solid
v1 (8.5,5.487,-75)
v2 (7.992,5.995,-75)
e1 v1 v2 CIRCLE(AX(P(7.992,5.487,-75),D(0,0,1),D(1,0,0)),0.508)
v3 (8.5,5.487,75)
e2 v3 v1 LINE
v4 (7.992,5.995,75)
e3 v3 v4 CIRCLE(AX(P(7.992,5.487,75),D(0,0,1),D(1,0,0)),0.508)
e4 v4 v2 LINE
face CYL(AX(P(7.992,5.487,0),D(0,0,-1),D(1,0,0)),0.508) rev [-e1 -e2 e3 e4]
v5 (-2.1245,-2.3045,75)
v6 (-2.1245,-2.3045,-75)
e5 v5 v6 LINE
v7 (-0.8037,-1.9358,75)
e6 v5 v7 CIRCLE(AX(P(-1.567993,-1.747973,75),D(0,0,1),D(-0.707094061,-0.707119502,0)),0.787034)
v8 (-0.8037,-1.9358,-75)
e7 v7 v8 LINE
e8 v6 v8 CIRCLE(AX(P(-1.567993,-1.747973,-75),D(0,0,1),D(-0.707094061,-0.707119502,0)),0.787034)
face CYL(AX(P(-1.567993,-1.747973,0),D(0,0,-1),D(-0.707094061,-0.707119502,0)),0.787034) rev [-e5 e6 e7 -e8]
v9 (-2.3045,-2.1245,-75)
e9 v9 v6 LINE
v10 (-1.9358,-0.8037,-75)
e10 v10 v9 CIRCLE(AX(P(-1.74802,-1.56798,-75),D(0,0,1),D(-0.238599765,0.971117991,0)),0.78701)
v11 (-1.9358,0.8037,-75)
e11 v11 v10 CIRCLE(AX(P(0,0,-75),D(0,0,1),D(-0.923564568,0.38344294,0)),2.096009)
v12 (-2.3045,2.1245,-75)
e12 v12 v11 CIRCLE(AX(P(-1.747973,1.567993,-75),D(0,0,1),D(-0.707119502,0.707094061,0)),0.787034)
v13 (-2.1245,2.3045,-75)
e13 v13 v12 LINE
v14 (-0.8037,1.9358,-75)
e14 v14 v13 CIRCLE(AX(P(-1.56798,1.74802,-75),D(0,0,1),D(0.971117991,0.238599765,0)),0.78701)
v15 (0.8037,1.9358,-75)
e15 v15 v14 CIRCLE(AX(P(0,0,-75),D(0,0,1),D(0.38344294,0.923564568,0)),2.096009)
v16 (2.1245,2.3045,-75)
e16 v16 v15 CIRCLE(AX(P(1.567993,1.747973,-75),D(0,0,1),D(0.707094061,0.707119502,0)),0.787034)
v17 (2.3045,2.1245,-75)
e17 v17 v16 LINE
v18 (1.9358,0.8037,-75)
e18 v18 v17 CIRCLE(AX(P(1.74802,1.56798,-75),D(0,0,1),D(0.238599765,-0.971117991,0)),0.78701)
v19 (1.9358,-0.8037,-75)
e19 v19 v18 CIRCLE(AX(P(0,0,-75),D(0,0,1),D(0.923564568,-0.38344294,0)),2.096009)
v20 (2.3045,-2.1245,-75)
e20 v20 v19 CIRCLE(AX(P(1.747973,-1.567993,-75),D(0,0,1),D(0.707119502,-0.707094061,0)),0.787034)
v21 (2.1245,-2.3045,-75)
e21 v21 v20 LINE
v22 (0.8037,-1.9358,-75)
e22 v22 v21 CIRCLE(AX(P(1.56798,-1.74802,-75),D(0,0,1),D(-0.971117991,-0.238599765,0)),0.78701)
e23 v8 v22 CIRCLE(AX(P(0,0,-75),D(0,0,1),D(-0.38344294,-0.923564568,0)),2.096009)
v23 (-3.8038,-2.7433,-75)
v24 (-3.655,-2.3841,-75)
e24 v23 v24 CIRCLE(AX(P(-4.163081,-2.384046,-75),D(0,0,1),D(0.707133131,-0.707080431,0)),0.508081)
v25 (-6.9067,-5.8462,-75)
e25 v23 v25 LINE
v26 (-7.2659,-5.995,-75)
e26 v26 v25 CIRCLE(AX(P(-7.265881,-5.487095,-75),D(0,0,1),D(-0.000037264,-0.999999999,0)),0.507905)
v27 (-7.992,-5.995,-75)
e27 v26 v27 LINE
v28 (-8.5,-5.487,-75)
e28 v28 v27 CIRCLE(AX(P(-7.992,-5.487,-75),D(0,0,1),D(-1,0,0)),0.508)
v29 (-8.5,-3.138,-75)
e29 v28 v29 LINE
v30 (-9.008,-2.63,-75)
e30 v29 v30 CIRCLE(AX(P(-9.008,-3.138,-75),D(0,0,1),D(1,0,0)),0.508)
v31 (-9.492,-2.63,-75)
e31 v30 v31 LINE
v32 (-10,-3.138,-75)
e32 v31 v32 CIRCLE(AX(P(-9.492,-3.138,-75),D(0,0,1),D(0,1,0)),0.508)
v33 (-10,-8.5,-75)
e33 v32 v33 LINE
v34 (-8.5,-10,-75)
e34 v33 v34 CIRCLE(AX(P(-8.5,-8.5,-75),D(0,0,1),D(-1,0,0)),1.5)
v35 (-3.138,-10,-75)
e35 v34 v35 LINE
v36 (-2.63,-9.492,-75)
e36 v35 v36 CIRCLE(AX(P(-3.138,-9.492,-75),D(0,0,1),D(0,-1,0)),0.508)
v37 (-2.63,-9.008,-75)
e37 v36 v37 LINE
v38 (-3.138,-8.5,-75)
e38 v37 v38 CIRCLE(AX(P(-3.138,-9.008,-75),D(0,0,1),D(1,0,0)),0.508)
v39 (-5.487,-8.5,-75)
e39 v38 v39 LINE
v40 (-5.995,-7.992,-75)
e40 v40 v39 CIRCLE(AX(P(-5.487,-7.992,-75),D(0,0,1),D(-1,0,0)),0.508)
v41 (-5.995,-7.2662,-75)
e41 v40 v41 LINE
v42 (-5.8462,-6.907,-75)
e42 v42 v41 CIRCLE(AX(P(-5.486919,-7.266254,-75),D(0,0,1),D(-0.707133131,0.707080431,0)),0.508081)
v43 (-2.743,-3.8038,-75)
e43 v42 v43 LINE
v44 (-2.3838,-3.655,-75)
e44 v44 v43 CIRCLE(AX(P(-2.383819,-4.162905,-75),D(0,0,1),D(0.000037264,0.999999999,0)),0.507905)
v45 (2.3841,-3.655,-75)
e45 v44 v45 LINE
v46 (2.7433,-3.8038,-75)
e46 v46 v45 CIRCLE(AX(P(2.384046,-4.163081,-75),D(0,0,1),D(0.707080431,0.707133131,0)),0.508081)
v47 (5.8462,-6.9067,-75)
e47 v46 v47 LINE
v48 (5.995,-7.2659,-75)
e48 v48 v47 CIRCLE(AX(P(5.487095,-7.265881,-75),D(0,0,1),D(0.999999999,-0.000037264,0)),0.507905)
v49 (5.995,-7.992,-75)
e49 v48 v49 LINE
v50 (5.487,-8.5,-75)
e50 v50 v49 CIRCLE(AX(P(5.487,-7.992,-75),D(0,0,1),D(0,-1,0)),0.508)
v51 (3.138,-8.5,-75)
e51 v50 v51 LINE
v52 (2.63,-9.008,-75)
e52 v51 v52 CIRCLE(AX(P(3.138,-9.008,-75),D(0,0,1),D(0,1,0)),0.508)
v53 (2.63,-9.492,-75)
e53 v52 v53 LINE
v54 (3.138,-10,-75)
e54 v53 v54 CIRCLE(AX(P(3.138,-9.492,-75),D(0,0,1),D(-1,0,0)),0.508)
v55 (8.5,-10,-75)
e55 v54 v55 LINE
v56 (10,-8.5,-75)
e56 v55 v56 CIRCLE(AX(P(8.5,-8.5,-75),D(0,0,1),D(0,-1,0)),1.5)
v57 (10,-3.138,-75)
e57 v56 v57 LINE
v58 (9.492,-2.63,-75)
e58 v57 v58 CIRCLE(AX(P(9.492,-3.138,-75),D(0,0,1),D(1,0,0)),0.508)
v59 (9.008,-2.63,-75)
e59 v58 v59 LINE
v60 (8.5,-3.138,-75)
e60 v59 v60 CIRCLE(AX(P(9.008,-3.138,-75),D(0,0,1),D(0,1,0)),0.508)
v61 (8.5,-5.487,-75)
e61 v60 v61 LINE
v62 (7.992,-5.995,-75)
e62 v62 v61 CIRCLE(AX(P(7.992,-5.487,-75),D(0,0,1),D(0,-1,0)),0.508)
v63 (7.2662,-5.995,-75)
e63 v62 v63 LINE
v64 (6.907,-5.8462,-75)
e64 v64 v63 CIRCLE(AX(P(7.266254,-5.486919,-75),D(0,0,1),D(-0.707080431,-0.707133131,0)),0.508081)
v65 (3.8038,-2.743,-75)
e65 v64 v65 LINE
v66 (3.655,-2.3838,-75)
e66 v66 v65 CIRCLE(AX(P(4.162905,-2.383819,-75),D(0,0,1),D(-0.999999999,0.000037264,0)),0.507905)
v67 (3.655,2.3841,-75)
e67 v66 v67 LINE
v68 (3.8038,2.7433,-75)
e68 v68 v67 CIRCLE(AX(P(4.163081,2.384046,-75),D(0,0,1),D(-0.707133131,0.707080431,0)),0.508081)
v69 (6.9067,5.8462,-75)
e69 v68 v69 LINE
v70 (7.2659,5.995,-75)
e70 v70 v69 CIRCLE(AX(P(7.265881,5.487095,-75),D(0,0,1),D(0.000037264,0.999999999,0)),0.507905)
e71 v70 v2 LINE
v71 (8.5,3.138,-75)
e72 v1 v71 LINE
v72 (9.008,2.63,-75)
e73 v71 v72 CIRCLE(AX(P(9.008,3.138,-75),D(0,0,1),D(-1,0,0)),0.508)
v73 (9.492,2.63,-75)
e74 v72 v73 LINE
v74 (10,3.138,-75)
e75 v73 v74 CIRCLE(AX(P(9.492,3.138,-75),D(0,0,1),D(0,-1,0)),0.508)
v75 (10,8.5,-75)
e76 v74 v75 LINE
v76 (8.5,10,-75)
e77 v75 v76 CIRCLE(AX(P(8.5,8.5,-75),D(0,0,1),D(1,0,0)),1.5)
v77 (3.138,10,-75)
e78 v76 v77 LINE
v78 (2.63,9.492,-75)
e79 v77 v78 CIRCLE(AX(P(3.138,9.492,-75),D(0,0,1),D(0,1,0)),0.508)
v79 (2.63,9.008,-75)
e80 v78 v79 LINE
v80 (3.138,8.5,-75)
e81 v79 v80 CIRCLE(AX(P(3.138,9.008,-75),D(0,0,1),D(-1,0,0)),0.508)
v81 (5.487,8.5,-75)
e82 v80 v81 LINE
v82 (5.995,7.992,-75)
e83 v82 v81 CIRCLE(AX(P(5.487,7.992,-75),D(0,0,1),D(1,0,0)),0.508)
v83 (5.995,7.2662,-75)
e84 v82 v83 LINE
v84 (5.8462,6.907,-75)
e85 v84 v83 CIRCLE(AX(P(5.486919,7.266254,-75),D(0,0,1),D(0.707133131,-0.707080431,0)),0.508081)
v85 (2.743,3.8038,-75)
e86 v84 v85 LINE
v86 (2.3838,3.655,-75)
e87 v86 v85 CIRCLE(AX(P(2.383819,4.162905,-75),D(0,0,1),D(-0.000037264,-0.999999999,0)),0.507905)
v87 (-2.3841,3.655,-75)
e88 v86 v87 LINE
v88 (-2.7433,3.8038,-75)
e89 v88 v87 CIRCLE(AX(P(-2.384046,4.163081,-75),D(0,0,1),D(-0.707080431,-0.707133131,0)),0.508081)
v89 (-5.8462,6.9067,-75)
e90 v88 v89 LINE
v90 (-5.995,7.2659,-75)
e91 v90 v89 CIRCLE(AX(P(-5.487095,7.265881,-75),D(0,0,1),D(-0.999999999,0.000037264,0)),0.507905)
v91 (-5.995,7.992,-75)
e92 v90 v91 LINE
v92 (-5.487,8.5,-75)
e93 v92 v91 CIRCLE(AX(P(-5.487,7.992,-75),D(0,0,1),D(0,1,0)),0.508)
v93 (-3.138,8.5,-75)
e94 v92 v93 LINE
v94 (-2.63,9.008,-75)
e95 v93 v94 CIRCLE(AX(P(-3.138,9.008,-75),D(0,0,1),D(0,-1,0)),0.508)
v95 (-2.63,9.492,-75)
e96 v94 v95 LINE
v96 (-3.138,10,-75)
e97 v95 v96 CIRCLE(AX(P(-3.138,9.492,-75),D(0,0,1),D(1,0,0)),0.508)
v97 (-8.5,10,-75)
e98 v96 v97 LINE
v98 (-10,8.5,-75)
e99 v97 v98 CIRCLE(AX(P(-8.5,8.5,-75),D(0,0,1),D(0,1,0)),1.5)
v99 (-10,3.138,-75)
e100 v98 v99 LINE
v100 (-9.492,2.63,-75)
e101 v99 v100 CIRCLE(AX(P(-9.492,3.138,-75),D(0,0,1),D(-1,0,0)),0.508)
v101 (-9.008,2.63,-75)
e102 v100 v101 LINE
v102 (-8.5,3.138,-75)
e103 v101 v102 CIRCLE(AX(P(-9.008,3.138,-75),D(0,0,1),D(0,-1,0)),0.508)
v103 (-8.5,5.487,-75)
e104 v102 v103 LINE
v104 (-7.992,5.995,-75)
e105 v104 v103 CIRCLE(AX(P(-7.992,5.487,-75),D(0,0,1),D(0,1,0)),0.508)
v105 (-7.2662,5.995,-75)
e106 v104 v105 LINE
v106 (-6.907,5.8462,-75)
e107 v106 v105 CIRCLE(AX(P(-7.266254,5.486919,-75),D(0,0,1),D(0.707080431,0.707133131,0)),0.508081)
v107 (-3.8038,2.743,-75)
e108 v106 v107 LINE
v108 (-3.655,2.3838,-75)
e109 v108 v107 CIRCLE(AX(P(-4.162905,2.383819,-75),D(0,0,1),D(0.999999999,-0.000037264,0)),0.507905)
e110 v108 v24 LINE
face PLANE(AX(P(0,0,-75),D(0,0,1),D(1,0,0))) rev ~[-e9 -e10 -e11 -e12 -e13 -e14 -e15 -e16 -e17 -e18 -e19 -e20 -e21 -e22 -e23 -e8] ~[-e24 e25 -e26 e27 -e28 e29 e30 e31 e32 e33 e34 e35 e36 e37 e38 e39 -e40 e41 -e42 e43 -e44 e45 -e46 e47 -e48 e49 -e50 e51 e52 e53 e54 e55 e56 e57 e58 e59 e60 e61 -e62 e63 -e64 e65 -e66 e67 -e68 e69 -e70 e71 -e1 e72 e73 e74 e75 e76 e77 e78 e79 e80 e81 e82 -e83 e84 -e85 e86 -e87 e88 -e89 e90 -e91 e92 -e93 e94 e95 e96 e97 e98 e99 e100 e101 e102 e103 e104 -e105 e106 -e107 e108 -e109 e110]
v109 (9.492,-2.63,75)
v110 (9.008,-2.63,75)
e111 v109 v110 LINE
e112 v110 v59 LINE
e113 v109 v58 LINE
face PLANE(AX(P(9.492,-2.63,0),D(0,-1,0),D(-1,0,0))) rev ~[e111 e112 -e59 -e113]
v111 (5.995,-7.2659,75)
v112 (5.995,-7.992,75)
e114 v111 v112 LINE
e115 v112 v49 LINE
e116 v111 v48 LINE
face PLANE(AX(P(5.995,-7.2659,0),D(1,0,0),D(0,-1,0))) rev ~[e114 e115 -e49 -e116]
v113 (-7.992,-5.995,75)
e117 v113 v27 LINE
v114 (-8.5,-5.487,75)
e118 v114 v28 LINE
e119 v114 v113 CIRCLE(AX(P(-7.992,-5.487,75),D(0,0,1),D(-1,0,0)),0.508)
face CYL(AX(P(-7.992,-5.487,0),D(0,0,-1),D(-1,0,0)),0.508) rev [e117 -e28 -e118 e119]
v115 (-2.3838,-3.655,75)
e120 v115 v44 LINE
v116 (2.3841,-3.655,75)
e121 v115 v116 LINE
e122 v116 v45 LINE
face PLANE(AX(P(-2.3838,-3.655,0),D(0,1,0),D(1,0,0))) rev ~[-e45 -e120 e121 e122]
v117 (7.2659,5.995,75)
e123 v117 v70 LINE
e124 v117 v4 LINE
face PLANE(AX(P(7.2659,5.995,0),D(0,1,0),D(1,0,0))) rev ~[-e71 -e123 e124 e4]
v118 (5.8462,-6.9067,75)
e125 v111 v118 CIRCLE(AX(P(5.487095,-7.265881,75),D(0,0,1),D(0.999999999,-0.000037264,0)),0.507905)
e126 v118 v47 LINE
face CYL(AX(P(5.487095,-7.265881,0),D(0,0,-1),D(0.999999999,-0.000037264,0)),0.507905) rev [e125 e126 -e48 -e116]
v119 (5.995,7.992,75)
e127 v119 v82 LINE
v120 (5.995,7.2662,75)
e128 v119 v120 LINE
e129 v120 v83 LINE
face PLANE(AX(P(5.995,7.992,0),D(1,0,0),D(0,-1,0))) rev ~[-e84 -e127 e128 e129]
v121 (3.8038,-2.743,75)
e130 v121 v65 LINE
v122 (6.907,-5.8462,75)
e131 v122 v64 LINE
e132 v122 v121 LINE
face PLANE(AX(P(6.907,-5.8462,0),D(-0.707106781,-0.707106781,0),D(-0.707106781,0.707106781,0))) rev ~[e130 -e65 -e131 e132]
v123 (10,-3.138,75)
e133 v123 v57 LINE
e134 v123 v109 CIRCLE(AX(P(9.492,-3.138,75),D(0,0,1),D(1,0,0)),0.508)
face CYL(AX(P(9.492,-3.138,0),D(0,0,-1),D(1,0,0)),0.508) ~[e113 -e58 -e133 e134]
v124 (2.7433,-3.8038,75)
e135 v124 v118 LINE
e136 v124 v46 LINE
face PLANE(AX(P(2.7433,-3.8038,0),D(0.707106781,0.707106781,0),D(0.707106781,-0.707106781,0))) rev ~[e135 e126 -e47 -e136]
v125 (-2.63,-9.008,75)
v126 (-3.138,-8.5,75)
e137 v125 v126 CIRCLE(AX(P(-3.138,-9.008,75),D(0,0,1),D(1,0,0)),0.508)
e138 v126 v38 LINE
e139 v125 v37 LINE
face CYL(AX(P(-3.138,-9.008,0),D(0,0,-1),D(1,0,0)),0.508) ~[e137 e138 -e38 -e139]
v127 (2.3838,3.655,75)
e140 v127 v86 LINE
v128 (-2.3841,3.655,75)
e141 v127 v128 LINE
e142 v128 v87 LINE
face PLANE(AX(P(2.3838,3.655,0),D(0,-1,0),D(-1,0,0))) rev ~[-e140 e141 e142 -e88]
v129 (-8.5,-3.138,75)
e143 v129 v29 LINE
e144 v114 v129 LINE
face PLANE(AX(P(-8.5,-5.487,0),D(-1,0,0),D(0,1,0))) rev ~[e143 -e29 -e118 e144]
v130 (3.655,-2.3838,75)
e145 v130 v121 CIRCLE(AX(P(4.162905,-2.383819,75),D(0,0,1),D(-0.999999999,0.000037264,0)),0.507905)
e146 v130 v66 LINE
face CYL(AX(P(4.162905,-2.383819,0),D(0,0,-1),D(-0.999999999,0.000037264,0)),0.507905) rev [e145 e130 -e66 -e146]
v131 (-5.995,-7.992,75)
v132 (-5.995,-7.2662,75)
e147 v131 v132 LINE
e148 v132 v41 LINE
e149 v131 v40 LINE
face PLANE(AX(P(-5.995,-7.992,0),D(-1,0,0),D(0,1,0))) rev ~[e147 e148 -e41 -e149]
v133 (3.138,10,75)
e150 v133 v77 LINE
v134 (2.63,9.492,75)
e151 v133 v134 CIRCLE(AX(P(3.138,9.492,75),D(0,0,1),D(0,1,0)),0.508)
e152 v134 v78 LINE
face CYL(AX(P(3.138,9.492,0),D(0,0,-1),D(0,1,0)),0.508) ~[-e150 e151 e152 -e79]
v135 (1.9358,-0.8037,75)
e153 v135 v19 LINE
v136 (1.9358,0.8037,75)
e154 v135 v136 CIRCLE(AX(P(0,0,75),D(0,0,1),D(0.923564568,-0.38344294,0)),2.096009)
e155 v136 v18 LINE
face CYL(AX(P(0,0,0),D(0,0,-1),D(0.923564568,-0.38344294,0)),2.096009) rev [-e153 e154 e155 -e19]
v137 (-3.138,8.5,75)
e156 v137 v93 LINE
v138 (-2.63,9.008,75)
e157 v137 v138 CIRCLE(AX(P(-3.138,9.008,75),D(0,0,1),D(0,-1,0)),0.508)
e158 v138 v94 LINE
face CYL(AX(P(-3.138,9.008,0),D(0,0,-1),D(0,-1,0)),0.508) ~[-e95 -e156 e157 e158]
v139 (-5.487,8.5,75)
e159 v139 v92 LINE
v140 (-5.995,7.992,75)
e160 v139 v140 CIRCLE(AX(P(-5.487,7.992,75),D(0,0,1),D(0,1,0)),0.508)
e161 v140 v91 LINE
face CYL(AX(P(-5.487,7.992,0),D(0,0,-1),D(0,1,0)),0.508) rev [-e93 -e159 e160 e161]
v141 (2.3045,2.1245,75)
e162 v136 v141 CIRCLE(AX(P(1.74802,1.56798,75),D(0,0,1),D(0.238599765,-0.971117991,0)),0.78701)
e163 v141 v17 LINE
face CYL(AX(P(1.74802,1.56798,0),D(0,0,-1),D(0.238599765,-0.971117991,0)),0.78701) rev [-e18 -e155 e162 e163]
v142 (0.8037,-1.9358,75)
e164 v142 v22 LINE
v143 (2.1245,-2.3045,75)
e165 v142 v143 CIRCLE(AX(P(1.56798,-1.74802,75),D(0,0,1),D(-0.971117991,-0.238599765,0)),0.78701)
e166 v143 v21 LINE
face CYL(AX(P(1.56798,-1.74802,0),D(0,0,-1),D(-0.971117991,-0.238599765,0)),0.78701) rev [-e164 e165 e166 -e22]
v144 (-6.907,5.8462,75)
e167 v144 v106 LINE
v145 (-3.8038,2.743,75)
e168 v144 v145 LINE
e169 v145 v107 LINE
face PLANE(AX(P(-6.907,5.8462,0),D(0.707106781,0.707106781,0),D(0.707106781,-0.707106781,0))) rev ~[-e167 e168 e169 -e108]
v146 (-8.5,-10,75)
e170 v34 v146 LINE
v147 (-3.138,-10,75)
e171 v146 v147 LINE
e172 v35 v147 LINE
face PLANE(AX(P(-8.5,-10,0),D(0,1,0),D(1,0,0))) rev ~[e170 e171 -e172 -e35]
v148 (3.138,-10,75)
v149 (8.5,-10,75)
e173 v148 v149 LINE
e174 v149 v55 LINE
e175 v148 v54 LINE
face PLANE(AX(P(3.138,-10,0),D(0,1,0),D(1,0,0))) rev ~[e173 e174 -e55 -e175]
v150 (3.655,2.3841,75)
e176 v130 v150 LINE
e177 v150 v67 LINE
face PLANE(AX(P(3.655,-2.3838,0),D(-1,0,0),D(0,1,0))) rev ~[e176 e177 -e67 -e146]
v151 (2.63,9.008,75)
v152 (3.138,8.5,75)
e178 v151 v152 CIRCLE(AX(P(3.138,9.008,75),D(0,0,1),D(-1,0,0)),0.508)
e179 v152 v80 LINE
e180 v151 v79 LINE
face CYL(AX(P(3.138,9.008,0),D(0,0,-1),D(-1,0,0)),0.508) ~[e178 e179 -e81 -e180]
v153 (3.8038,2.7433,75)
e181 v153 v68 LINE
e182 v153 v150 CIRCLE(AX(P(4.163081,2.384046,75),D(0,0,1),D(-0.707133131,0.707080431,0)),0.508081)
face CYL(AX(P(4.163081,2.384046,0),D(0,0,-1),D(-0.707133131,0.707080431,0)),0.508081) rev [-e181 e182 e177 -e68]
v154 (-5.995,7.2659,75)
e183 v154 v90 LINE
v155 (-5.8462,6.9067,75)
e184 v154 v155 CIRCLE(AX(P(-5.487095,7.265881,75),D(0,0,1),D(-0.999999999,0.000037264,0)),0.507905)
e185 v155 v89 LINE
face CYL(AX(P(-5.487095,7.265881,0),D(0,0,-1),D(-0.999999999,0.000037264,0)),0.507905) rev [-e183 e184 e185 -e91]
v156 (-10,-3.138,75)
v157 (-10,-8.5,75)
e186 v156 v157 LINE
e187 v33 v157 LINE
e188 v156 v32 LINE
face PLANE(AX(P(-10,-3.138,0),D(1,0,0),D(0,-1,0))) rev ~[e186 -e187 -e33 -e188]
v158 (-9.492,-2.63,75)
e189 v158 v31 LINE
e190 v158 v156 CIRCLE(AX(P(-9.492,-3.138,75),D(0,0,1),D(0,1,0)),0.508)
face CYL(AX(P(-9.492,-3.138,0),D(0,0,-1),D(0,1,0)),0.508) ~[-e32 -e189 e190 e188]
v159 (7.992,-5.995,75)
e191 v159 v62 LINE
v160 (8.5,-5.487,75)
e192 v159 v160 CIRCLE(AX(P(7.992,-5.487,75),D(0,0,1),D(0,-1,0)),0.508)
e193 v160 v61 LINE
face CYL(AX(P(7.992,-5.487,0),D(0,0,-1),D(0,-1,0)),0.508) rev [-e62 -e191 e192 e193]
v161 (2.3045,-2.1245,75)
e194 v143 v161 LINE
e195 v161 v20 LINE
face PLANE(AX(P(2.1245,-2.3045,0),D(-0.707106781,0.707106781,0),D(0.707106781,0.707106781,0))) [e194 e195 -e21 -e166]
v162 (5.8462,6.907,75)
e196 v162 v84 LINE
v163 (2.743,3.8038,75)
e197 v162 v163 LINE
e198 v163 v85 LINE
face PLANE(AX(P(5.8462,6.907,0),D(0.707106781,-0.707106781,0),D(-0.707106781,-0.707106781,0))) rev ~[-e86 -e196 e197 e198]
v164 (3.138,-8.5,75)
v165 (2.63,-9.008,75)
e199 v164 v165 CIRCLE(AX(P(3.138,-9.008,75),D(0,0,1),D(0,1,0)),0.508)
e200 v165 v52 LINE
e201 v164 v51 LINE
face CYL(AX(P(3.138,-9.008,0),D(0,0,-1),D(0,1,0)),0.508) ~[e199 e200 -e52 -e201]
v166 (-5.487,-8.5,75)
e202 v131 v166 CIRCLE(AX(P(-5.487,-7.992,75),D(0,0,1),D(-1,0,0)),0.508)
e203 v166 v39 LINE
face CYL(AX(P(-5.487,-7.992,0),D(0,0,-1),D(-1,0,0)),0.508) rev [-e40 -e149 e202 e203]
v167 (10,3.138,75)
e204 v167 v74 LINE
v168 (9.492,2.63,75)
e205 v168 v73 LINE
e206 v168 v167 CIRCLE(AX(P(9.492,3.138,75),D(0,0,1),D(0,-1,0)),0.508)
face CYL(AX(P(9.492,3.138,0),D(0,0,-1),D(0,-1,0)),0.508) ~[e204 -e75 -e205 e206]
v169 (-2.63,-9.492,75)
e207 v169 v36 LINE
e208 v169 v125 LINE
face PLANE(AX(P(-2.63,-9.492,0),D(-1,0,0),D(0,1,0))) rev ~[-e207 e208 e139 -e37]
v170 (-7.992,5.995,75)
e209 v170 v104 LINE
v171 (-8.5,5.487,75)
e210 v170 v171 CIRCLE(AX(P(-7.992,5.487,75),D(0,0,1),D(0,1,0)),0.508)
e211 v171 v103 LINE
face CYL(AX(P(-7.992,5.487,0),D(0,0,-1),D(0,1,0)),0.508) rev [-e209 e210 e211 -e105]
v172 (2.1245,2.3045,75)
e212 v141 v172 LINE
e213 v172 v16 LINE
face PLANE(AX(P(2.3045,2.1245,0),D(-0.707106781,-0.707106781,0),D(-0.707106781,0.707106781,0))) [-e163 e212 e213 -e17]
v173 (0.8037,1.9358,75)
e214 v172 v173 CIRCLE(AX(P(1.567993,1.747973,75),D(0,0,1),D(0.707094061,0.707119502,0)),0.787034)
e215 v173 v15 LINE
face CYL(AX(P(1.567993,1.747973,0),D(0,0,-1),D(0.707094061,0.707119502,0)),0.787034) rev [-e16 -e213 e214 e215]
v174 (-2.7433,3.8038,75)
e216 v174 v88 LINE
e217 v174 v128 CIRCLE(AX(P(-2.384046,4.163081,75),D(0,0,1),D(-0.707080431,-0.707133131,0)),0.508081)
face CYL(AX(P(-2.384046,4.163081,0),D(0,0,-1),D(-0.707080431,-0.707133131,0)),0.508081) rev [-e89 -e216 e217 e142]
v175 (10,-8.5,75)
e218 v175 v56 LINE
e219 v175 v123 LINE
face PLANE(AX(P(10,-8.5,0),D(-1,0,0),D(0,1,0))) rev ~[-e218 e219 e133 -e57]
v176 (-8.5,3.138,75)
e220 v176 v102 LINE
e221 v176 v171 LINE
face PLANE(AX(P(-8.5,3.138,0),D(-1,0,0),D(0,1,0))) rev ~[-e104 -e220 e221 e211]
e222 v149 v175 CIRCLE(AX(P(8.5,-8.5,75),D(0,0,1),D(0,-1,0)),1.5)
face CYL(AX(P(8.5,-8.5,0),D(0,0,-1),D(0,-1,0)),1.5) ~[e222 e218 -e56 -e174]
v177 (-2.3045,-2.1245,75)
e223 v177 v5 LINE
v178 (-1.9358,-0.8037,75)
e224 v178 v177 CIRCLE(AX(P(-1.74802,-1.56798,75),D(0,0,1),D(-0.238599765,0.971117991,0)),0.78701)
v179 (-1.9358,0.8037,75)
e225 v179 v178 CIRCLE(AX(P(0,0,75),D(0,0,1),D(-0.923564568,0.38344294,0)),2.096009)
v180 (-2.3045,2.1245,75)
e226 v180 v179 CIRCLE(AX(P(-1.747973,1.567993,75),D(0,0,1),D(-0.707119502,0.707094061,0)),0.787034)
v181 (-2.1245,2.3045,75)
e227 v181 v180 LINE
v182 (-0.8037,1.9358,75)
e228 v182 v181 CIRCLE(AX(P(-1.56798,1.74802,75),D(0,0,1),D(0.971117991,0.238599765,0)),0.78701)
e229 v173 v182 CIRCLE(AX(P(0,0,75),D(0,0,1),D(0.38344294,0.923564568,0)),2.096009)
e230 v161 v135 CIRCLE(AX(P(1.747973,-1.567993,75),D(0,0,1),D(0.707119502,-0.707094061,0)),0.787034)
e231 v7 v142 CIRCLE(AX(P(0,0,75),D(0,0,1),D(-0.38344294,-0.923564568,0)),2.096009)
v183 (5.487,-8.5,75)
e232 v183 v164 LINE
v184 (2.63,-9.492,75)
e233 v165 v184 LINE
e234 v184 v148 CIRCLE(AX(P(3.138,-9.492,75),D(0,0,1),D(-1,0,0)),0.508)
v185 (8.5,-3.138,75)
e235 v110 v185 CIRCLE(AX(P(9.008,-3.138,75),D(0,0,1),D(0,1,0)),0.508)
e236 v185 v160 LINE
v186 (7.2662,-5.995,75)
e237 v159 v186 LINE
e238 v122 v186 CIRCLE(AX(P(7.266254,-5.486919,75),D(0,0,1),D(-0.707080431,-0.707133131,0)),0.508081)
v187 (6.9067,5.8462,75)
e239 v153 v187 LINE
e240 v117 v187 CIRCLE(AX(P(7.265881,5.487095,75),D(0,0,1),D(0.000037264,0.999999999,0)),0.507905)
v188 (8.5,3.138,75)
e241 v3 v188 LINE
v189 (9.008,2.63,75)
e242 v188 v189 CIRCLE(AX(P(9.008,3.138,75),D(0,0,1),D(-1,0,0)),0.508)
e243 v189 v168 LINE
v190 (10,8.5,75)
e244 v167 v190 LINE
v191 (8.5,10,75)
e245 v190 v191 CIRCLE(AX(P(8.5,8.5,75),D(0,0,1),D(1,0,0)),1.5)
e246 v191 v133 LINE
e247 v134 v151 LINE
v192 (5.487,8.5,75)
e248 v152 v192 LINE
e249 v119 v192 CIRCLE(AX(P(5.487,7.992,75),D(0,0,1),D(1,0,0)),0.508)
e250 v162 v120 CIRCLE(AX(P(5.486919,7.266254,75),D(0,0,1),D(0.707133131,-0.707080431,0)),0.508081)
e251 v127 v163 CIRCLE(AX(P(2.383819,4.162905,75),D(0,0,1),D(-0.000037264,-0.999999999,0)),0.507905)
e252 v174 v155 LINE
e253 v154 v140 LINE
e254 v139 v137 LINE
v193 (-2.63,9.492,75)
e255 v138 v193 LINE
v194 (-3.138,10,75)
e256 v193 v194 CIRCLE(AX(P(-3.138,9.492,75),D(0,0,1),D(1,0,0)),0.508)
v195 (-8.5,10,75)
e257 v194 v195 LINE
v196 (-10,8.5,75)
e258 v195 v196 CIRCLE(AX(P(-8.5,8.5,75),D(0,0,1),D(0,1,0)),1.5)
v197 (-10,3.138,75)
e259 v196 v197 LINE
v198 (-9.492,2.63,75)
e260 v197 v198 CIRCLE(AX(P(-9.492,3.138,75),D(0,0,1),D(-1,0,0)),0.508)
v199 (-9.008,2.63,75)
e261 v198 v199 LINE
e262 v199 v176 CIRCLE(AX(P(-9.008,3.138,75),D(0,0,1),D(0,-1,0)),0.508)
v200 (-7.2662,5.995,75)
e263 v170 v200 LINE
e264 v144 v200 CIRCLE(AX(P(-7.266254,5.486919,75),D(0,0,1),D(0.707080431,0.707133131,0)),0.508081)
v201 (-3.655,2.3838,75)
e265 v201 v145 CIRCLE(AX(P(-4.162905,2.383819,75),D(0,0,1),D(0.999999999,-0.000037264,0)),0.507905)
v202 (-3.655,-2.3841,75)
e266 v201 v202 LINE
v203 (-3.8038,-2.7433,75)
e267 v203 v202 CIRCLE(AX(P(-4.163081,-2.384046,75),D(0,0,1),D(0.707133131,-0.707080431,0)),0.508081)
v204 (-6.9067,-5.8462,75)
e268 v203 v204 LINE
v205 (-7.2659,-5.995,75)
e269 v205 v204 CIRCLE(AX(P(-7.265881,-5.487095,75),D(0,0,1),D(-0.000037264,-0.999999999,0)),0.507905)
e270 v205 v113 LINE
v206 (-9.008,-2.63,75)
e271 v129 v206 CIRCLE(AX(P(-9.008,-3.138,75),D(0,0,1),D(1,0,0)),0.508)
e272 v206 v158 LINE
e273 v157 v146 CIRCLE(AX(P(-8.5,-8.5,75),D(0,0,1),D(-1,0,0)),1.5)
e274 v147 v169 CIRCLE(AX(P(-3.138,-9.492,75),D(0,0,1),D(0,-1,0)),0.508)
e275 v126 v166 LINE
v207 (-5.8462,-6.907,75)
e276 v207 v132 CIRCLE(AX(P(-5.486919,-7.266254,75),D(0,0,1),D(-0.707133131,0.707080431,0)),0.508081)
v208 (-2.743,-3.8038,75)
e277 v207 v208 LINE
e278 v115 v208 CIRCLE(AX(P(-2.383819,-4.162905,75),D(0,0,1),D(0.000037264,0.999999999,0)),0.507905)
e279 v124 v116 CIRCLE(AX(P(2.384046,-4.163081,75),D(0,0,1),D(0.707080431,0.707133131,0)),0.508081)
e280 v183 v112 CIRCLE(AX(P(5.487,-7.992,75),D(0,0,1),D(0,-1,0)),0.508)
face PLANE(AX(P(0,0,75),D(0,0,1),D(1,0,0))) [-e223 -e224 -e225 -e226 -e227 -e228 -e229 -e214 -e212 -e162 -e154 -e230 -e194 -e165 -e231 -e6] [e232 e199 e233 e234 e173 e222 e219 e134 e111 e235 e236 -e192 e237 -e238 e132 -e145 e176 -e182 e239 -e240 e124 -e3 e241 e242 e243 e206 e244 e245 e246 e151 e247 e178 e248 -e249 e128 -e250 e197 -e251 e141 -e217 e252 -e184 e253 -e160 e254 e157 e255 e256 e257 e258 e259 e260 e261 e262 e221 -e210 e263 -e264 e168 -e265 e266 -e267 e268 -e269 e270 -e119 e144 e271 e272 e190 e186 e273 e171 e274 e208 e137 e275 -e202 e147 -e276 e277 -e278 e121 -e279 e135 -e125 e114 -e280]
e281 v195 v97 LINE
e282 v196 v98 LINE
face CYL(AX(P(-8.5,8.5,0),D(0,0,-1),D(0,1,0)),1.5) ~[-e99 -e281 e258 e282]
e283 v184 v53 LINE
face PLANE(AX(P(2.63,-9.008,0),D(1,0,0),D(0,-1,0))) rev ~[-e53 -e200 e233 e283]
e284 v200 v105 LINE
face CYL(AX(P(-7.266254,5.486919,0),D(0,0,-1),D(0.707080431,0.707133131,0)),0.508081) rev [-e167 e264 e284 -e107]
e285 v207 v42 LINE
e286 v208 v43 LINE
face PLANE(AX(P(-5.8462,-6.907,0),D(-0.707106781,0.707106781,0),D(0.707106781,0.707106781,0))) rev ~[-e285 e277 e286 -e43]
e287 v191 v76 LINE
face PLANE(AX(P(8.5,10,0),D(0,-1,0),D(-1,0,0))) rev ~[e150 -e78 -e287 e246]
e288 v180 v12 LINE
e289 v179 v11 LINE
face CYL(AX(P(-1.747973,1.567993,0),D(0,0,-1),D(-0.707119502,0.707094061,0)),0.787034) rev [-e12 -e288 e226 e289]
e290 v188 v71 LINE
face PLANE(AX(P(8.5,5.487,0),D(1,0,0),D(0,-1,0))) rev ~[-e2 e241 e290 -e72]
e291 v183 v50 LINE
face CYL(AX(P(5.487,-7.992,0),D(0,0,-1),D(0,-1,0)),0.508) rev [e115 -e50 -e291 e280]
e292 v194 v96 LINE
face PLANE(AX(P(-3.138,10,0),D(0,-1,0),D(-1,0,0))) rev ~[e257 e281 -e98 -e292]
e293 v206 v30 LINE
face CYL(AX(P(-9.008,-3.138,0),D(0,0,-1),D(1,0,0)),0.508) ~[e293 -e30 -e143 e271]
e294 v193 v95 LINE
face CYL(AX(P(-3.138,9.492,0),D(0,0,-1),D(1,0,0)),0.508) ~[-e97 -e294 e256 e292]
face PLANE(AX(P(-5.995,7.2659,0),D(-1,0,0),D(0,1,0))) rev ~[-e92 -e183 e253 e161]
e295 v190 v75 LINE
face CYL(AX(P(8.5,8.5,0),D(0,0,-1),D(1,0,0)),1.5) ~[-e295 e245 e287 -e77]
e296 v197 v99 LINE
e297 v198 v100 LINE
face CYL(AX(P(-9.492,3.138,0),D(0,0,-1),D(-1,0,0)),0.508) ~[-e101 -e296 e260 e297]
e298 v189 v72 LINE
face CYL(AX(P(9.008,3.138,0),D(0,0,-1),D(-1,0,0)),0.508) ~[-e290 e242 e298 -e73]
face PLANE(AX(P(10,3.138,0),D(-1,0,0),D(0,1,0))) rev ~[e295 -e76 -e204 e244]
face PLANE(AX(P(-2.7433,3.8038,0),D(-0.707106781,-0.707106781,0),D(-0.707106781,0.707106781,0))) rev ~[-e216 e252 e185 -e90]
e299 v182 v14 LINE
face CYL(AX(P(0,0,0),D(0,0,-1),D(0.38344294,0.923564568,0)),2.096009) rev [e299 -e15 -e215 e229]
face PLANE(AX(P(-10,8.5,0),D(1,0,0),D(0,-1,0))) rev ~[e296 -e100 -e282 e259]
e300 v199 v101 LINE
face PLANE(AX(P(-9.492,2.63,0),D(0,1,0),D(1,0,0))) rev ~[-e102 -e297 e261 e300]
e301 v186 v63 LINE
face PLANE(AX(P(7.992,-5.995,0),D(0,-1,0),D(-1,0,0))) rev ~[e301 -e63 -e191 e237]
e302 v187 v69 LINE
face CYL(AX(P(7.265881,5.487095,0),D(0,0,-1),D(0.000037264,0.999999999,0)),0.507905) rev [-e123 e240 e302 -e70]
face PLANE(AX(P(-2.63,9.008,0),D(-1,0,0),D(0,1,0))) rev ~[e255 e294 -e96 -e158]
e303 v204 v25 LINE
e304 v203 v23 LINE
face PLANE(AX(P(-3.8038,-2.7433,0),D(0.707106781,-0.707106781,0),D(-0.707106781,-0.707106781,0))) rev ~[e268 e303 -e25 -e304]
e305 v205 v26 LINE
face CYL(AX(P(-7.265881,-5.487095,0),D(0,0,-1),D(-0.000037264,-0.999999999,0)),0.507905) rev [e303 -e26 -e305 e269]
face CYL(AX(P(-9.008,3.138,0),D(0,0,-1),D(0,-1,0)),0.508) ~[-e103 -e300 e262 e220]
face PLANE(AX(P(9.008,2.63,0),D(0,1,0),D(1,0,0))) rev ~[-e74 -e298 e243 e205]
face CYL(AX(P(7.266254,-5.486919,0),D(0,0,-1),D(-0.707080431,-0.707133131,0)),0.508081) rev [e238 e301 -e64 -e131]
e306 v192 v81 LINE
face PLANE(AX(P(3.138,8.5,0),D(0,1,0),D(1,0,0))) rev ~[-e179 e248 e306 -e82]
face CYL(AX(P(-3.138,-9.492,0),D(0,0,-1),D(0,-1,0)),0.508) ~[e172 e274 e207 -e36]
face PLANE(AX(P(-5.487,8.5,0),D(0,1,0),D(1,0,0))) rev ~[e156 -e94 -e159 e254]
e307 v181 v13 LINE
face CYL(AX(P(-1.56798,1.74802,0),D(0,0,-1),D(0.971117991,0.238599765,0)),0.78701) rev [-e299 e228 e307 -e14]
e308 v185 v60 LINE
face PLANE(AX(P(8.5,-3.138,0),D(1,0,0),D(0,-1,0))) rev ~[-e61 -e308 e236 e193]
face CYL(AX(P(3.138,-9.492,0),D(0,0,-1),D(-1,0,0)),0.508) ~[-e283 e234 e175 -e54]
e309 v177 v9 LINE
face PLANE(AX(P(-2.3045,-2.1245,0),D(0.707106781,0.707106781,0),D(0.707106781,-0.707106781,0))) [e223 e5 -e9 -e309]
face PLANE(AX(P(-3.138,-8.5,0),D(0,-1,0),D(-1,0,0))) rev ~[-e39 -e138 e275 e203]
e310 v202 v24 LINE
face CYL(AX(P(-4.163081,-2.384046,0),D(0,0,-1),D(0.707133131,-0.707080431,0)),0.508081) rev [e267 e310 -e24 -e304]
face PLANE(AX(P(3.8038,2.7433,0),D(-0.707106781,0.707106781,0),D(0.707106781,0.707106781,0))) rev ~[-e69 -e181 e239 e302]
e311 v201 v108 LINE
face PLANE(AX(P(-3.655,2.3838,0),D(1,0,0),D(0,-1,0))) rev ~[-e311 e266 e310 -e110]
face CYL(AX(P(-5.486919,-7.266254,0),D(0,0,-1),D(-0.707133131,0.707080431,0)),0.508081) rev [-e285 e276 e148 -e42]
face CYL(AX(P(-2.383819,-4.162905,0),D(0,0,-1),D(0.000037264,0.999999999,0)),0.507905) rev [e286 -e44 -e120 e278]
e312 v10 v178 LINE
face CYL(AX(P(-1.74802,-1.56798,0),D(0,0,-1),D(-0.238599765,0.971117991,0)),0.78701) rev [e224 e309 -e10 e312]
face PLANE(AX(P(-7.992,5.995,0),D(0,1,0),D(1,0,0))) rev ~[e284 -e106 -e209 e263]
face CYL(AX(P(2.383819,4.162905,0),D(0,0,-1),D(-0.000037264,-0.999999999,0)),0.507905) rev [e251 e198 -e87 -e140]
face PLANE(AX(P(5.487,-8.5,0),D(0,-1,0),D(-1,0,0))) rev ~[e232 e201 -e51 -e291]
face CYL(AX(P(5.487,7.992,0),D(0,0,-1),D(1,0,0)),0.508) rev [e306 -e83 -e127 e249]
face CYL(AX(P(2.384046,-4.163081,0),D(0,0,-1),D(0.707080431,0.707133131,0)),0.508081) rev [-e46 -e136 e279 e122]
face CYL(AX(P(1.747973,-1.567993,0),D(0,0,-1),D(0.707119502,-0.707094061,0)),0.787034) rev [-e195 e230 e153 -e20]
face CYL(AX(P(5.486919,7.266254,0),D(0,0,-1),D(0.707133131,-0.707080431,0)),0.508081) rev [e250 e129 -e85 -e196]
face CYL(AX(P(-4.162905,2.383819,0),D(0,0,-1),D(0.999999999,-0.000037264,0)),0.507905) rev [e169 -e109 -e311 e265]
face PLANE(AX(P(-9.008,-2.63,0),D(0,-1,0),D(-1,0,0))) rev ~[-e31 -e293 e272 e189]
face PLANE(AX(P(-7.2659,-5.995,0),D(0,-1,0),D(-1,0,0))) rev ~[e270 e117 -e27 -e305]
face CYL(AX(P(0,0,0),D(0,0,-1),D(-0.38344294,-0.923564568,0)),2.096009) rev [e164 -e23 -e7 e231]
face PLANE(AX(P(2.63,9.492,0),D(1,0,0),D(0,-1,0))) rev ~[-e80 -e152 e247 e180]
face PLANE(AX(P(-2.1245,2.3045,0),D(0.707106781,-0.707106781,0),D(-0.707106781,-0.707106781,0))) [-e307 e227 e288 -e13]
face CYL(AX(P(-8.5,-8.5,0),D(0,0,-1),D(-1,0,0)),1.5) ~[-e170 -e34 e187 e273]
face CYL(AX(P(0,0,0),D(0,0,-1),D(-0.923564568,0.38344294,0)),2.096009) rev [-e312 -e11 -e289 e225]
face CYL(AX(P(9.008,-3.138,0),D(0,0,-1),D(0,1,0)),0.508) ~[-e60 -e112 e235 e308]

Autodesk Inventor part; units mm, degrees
ref_plane "YZ Plane" through (0, 0, 0) normal (1, 0, 0) x (0, 1, 0)
ref_plane "XZ Plane" through (0, 0, 0) normal (0, 1, 0) x (-1, 0, 0)
ref_plane "XY Plane" through (0, 0, 0) normal (0, 0, 1) x (1, 0, 0)
sketch "Sketch_1" plane through (0, 0, 0) normal (0, 0, 1) x (1, 0, 0)
  arc A0 (-10, -8.5) -> (-8.5, -10) centre (-8.5, -8.5) ccw
  line L0 (-8.5, -10) -> (-3.138, -10)
  arc A1 (-3.138, -10) -> (-2.63, -9.492) centre (-3.138, -9.492) ccw
  line L1 (-2.63, -9.492) -> (-2.63, -9.008)
  arc A2 (-2.63, -9.008) -> (-3.138, -8.5) centre (-3.138, -9.008) ccw
  line L2 (-3.138, -8.5) -> (-5.487, -8.5)
  arc A3 (-5.995, -7.992) -> (-5.487, -8.5) centre (-5.487, -7.992) ccw
  line L3 (-5.995, -7.992) -> (-5.995, -7.2662)
  arc A4 (-5.8462, -6.907) -> (-5.995, -7.2662) centre (-5.487, -7.2662) ccw
  line L4 (-5.8462, -6.907) -> (-2.743, -3.8038)
  arc A5 (-2.3838, -3.655) -> (-2.743, -3.8038) centre (-2.3838, -4.163) ccw
  line L5 (-2.3838, -3.655) -> (2.3841, -3.655)
  arc A6 (2.7433, -3.8038) -> (2.3841, -3.655) centre (2.3841, -4.163) ccw
  line L6 (2.7433, -3.8038) -> (5.8462, -6.9067)
  arc A7 (5.995, -7.2659) -> (5.8462, -6.9067) centre (5.487, -7.2659) ccw
  line L7 (5.995, -7.2659) -> (5.995, -7.992)
  arc A8 (5.487, -8.5) -> (5.995, -7.992) centre (5.487, -7.992) ccw
  line L8 (5.487, -8.5) -> (3.138, -8.5)
  arc A9 (3.138, -8.5) -> (2.63, -9.008) centre (3.138, -9.008) ccw
  line L9 (2.63, -9.008) -> (2.63, -9.492)
  arc A10 (2.63, -9.492) -> (3.138, -10) centre (3.138, -9.492) ccw
  line L10 (3.138, -10) -> (8.5, -10)
  arc A11 (8.5, -10) -> (10, -8.5) centre (8.5, -8.5) ccw
  line L11 (10, -8.5) -> (10, -3.138)
  arc A12 (10, -3.138) -> (9.492, -2.63) centre (9.492, -3.138) ccw
  line L12 (9.492, -2.63) -> (9.008, -2.63)
  arc A13 (9.008, -2.63) -> (8.5, -3.138) centre (9.008, -3.138) ccw
  line L13 (8.5, -3.138) -> (8.5, -5.487)
  arc A14 (7.992, -5.995) -> (8.5, -5.487) centre (7.992, -5.487) ccw
  line L14 (7.992, -5.995) -> (7.2662, -5.995)
  arc A15 (6.907, -5.8462) -> (7.2662, -5.995) centre (7.2662, -5.487) ccw
  line L15 (6.907, -5.8462) -> (3.8038, -2.743)
  arc A16 (3.655, -2.3838) -> (3.8038, -2.743) centre (4.163, -2.3838) ccw
  line L16 (3.655, -2.3838) -> (3.655, 2.3841)
  arc A17 (3.8038, 2.7433) -> (3.655, 2.3841) centre (4.163, 2.3841) ccw
  line L17 (3.8038, 2.7433) -> (6.9067, 5.8462)
  arc A18 (7.2659, 5.995) -> (6.9067, 5.8462) centre (7.2659, 5.487) ccw
  line L18 (7.2659, 5.995) -> (7.992, 5.995)
  arc A19 (8.5, 5.487) -> (7.992, 5.995) centre (7.992, 5.487) ccw
  line L19 (8.5, 5.487) -> (8.5, 3.138)
  arc A20 (8.5, 3.138) -> (9.008, 2.63) centre (9.008, 3.138) ccw
  line L20 (9.008, 2.63) -> (9.492, 2.63)
  arc A21 (9.492, 2.63) -> (10, 3.138) centre (9.492, 3.138) ccw
  line L21 (10, 3.138) -> (10, 8.5)
  arc A22 (10, 8.5) -> (8.5, 10) centre (8.5, 8.5) ccw
  line L22 (8.5, 10) -> (3.138, 10)
  arc A23 (3.138, 10) -> (2.63, 9.492) centre (3.138, 9.492) ccw
  line L23 (2.63, 9.492) -> (2.63, 9.008)
  arc A24 (2.63, 9.008) -> (3.138, 8.5) centre (3.138, 9.008) ccw
  line L24 (3.138, 8.5) -> (5.487, 8.5)
  arc A25 (5.995, 7.992) -> (5.487, 8.5) centre (5.487, 7.992) ccw
  line L25 (5.995, 7.992) -> (5.995, 7.2662)
  arc A26 (5.8462, 6.907) -> (5.995, 7.2662) centre (5.487, 7.2662) ccw
  line L26 (5.8462, 6.907) -> (2.743, 3.8038)
  arc A27 (2.3838, 3.655) -> (2.743, 3.8038) centre (2.3838, 4.163) ccw
  line L27 (2.3838, 3.655) -> (-2.3841, 3.655)
  arc A28 (-2.7433, 3.8038) -> (-2.3841, 3.655) centre (-2.3841, 4.163) ccw
  line L28 (-2.7433, 3.8038) -> (-5.8462, 6.9067)
  arc A29 (-5.995, 7.2659) -> (-5.8462, 6.9067) centre (-5.487, 7.2659) ccw
  line L29 (-5.995, 7.2659) -> (-5.995, 7.992)
  arc A30 (-5.487, 8.5) -> (-5.995, 7.992) centre (-5.487, 7.992) ccw
  line L30 (-5.487, 8.5) -> (-3.138, 8.5)
  arc A31 (-3.138, 8.5) -> (-2.63, 9.008) centre (-3.138, 9.008) ccw
  line L31 (-2.63, 9.008) -> (-2.63, 9.492)
  arc A32 (-2.63, 9.492) -> (-3.138, 10) centre (-3.138, 9.492) ccw
  line L32 (-3.138, 10) -> (-8.5, 10)
  arc A33 (-8.5, 10) -> (-10, 8.5) centre (-8.5, 8.5) ccw
  line L33 (-10, 8.5) -> (-10, 3.138)
  arc A34 (-10, 3.138) -> (-9.492, 2.63) centre (-9.492, 3.138) ccw
  line L34 (-9.492, 2.63) -> (-9.008, 2.63)
  arc A35 (-9.008, 2.63) -> (-8.5, 3.138) centre (-9.008, 3.138) ccw
  line L35 (-8.5, 3.138) -> (-8.5, 5.487)
  arc A36 (-7.992, 5.995) -> (-8.5, 5.487) centre (-7.992, 5.487) ccw
  line L36 (-7.992, 5.995) -> (-7.2662, 5.995)
  arc A37 (-6.907, 5.8462) -> (-7.2662, 5.995) centre (-7.2662, 5.487) ccw
  line L37 (-6.907, 5.8462) -> (-3.8038, 2.743)
  arc A38 (-3.655, 2.3838) -> (-3.8038, 2.743) centre (-4.163, 2.3838) ccw
  line L38 (-3.655, 2.3838) -> (-3.655, -2.3841)
  arc A39 (-3.8038, -2.7433) -> (-3.655, -2.3841) centre (-4.163, -2.3841) ccw
  line L39 (-3.8038, -2.7433) -> (-6.9067, -5.8462)
  arc A40 (-7.2659, -5.995) -> (-6.9067, -5.8462) centre (-7.2659, -5.487) ccw
  line L40 (-7.2659, -5.995) -> (-7.992, -5.995)
  arc A41 (-8.5, -5.487) -> (-7.992, -5.995) centre (-7.992, -5.487) ccw
  line L41 (-8.5, -5.487) -> (-8.5, -3.138)
  arc A42 (-8.5, -3.138) -> (-9.008, -2.63) centre (-9.008, -3.138) ccw
  line L42 (-9.008, -2.63) -> (-9.492, -2.63)
  arc A43 (-9.492, -2.63) -> (-10, -3.138) centre (-9.492, -3.138) ccw
  line L43 (-10, -3.138) -> (-10, -8.5)
  arc A44 (-1.9358, -0.8037) -> (-2.3045, -2.1245) centre (-1.748, -1.568) ccw
  line L44 (-2.3045, -2.1245) -> (-2.1245, -2.3045)
  arc A45 (-2.1245, -2.3045) -> (-0.8037, -1.9358) centre (-1.568, -1.748) ccw
  arc A46 (-0.8037, -1.9358) -> (0.8037, -1.9358) centre (0, 0) ccw
  arc A47 (0.8037, -1.9358) -> (2.1245, -2.3045) centre (1.568, -1.748) ccw
  line L45 (2.1245, -2.3045) -> (2.3045, -2.1245)
  arc A48 (2.3045, -2.1245) -> (1.9358, -0.8037) centre (1.748, -1.568) ccw
  arc A49 (1.9358, -0.8037) -> (1.9358, 0.8037) centre (0, 0) ccw
  arc A50 (1.9358, 0.8037) -> (2.3045, 2.1245) centre (1.748, 1.568) ccw
  line L46 (2.3045, 2.1245) -> (2.1245, 2.3045)
  arc A51 (2.1245, 2.3045) -> (0.8037, 1.9358) centre (1.568, 1.748) ccw
  arc A52 (0.8037, 1.9358) -> (-0.8037, 1.9358) centre (0, 0) ccw
  arc A53 (-0.8037, 1.9358) -> (-2.1245, 2.3045) centre (-1.568, 1.748) ccw
  line L47 (-2.1245, 2.3045) -> (-2.3045, 2.1245)
  arc A54 (-2.3045, 2.1245) -> (-1.9358, 0.8037) centre (-1.748, 1.568) ccw
  arc A55 (-1.9358, 0.8037) -> (-1.9358, -0.8037) centre (0, 0) ccw
extrude "Extrusion1" add sketch "Sketch_1" along normal mid plane 150
properties part number "20x20x150 T Slot Extrusion Bar"
